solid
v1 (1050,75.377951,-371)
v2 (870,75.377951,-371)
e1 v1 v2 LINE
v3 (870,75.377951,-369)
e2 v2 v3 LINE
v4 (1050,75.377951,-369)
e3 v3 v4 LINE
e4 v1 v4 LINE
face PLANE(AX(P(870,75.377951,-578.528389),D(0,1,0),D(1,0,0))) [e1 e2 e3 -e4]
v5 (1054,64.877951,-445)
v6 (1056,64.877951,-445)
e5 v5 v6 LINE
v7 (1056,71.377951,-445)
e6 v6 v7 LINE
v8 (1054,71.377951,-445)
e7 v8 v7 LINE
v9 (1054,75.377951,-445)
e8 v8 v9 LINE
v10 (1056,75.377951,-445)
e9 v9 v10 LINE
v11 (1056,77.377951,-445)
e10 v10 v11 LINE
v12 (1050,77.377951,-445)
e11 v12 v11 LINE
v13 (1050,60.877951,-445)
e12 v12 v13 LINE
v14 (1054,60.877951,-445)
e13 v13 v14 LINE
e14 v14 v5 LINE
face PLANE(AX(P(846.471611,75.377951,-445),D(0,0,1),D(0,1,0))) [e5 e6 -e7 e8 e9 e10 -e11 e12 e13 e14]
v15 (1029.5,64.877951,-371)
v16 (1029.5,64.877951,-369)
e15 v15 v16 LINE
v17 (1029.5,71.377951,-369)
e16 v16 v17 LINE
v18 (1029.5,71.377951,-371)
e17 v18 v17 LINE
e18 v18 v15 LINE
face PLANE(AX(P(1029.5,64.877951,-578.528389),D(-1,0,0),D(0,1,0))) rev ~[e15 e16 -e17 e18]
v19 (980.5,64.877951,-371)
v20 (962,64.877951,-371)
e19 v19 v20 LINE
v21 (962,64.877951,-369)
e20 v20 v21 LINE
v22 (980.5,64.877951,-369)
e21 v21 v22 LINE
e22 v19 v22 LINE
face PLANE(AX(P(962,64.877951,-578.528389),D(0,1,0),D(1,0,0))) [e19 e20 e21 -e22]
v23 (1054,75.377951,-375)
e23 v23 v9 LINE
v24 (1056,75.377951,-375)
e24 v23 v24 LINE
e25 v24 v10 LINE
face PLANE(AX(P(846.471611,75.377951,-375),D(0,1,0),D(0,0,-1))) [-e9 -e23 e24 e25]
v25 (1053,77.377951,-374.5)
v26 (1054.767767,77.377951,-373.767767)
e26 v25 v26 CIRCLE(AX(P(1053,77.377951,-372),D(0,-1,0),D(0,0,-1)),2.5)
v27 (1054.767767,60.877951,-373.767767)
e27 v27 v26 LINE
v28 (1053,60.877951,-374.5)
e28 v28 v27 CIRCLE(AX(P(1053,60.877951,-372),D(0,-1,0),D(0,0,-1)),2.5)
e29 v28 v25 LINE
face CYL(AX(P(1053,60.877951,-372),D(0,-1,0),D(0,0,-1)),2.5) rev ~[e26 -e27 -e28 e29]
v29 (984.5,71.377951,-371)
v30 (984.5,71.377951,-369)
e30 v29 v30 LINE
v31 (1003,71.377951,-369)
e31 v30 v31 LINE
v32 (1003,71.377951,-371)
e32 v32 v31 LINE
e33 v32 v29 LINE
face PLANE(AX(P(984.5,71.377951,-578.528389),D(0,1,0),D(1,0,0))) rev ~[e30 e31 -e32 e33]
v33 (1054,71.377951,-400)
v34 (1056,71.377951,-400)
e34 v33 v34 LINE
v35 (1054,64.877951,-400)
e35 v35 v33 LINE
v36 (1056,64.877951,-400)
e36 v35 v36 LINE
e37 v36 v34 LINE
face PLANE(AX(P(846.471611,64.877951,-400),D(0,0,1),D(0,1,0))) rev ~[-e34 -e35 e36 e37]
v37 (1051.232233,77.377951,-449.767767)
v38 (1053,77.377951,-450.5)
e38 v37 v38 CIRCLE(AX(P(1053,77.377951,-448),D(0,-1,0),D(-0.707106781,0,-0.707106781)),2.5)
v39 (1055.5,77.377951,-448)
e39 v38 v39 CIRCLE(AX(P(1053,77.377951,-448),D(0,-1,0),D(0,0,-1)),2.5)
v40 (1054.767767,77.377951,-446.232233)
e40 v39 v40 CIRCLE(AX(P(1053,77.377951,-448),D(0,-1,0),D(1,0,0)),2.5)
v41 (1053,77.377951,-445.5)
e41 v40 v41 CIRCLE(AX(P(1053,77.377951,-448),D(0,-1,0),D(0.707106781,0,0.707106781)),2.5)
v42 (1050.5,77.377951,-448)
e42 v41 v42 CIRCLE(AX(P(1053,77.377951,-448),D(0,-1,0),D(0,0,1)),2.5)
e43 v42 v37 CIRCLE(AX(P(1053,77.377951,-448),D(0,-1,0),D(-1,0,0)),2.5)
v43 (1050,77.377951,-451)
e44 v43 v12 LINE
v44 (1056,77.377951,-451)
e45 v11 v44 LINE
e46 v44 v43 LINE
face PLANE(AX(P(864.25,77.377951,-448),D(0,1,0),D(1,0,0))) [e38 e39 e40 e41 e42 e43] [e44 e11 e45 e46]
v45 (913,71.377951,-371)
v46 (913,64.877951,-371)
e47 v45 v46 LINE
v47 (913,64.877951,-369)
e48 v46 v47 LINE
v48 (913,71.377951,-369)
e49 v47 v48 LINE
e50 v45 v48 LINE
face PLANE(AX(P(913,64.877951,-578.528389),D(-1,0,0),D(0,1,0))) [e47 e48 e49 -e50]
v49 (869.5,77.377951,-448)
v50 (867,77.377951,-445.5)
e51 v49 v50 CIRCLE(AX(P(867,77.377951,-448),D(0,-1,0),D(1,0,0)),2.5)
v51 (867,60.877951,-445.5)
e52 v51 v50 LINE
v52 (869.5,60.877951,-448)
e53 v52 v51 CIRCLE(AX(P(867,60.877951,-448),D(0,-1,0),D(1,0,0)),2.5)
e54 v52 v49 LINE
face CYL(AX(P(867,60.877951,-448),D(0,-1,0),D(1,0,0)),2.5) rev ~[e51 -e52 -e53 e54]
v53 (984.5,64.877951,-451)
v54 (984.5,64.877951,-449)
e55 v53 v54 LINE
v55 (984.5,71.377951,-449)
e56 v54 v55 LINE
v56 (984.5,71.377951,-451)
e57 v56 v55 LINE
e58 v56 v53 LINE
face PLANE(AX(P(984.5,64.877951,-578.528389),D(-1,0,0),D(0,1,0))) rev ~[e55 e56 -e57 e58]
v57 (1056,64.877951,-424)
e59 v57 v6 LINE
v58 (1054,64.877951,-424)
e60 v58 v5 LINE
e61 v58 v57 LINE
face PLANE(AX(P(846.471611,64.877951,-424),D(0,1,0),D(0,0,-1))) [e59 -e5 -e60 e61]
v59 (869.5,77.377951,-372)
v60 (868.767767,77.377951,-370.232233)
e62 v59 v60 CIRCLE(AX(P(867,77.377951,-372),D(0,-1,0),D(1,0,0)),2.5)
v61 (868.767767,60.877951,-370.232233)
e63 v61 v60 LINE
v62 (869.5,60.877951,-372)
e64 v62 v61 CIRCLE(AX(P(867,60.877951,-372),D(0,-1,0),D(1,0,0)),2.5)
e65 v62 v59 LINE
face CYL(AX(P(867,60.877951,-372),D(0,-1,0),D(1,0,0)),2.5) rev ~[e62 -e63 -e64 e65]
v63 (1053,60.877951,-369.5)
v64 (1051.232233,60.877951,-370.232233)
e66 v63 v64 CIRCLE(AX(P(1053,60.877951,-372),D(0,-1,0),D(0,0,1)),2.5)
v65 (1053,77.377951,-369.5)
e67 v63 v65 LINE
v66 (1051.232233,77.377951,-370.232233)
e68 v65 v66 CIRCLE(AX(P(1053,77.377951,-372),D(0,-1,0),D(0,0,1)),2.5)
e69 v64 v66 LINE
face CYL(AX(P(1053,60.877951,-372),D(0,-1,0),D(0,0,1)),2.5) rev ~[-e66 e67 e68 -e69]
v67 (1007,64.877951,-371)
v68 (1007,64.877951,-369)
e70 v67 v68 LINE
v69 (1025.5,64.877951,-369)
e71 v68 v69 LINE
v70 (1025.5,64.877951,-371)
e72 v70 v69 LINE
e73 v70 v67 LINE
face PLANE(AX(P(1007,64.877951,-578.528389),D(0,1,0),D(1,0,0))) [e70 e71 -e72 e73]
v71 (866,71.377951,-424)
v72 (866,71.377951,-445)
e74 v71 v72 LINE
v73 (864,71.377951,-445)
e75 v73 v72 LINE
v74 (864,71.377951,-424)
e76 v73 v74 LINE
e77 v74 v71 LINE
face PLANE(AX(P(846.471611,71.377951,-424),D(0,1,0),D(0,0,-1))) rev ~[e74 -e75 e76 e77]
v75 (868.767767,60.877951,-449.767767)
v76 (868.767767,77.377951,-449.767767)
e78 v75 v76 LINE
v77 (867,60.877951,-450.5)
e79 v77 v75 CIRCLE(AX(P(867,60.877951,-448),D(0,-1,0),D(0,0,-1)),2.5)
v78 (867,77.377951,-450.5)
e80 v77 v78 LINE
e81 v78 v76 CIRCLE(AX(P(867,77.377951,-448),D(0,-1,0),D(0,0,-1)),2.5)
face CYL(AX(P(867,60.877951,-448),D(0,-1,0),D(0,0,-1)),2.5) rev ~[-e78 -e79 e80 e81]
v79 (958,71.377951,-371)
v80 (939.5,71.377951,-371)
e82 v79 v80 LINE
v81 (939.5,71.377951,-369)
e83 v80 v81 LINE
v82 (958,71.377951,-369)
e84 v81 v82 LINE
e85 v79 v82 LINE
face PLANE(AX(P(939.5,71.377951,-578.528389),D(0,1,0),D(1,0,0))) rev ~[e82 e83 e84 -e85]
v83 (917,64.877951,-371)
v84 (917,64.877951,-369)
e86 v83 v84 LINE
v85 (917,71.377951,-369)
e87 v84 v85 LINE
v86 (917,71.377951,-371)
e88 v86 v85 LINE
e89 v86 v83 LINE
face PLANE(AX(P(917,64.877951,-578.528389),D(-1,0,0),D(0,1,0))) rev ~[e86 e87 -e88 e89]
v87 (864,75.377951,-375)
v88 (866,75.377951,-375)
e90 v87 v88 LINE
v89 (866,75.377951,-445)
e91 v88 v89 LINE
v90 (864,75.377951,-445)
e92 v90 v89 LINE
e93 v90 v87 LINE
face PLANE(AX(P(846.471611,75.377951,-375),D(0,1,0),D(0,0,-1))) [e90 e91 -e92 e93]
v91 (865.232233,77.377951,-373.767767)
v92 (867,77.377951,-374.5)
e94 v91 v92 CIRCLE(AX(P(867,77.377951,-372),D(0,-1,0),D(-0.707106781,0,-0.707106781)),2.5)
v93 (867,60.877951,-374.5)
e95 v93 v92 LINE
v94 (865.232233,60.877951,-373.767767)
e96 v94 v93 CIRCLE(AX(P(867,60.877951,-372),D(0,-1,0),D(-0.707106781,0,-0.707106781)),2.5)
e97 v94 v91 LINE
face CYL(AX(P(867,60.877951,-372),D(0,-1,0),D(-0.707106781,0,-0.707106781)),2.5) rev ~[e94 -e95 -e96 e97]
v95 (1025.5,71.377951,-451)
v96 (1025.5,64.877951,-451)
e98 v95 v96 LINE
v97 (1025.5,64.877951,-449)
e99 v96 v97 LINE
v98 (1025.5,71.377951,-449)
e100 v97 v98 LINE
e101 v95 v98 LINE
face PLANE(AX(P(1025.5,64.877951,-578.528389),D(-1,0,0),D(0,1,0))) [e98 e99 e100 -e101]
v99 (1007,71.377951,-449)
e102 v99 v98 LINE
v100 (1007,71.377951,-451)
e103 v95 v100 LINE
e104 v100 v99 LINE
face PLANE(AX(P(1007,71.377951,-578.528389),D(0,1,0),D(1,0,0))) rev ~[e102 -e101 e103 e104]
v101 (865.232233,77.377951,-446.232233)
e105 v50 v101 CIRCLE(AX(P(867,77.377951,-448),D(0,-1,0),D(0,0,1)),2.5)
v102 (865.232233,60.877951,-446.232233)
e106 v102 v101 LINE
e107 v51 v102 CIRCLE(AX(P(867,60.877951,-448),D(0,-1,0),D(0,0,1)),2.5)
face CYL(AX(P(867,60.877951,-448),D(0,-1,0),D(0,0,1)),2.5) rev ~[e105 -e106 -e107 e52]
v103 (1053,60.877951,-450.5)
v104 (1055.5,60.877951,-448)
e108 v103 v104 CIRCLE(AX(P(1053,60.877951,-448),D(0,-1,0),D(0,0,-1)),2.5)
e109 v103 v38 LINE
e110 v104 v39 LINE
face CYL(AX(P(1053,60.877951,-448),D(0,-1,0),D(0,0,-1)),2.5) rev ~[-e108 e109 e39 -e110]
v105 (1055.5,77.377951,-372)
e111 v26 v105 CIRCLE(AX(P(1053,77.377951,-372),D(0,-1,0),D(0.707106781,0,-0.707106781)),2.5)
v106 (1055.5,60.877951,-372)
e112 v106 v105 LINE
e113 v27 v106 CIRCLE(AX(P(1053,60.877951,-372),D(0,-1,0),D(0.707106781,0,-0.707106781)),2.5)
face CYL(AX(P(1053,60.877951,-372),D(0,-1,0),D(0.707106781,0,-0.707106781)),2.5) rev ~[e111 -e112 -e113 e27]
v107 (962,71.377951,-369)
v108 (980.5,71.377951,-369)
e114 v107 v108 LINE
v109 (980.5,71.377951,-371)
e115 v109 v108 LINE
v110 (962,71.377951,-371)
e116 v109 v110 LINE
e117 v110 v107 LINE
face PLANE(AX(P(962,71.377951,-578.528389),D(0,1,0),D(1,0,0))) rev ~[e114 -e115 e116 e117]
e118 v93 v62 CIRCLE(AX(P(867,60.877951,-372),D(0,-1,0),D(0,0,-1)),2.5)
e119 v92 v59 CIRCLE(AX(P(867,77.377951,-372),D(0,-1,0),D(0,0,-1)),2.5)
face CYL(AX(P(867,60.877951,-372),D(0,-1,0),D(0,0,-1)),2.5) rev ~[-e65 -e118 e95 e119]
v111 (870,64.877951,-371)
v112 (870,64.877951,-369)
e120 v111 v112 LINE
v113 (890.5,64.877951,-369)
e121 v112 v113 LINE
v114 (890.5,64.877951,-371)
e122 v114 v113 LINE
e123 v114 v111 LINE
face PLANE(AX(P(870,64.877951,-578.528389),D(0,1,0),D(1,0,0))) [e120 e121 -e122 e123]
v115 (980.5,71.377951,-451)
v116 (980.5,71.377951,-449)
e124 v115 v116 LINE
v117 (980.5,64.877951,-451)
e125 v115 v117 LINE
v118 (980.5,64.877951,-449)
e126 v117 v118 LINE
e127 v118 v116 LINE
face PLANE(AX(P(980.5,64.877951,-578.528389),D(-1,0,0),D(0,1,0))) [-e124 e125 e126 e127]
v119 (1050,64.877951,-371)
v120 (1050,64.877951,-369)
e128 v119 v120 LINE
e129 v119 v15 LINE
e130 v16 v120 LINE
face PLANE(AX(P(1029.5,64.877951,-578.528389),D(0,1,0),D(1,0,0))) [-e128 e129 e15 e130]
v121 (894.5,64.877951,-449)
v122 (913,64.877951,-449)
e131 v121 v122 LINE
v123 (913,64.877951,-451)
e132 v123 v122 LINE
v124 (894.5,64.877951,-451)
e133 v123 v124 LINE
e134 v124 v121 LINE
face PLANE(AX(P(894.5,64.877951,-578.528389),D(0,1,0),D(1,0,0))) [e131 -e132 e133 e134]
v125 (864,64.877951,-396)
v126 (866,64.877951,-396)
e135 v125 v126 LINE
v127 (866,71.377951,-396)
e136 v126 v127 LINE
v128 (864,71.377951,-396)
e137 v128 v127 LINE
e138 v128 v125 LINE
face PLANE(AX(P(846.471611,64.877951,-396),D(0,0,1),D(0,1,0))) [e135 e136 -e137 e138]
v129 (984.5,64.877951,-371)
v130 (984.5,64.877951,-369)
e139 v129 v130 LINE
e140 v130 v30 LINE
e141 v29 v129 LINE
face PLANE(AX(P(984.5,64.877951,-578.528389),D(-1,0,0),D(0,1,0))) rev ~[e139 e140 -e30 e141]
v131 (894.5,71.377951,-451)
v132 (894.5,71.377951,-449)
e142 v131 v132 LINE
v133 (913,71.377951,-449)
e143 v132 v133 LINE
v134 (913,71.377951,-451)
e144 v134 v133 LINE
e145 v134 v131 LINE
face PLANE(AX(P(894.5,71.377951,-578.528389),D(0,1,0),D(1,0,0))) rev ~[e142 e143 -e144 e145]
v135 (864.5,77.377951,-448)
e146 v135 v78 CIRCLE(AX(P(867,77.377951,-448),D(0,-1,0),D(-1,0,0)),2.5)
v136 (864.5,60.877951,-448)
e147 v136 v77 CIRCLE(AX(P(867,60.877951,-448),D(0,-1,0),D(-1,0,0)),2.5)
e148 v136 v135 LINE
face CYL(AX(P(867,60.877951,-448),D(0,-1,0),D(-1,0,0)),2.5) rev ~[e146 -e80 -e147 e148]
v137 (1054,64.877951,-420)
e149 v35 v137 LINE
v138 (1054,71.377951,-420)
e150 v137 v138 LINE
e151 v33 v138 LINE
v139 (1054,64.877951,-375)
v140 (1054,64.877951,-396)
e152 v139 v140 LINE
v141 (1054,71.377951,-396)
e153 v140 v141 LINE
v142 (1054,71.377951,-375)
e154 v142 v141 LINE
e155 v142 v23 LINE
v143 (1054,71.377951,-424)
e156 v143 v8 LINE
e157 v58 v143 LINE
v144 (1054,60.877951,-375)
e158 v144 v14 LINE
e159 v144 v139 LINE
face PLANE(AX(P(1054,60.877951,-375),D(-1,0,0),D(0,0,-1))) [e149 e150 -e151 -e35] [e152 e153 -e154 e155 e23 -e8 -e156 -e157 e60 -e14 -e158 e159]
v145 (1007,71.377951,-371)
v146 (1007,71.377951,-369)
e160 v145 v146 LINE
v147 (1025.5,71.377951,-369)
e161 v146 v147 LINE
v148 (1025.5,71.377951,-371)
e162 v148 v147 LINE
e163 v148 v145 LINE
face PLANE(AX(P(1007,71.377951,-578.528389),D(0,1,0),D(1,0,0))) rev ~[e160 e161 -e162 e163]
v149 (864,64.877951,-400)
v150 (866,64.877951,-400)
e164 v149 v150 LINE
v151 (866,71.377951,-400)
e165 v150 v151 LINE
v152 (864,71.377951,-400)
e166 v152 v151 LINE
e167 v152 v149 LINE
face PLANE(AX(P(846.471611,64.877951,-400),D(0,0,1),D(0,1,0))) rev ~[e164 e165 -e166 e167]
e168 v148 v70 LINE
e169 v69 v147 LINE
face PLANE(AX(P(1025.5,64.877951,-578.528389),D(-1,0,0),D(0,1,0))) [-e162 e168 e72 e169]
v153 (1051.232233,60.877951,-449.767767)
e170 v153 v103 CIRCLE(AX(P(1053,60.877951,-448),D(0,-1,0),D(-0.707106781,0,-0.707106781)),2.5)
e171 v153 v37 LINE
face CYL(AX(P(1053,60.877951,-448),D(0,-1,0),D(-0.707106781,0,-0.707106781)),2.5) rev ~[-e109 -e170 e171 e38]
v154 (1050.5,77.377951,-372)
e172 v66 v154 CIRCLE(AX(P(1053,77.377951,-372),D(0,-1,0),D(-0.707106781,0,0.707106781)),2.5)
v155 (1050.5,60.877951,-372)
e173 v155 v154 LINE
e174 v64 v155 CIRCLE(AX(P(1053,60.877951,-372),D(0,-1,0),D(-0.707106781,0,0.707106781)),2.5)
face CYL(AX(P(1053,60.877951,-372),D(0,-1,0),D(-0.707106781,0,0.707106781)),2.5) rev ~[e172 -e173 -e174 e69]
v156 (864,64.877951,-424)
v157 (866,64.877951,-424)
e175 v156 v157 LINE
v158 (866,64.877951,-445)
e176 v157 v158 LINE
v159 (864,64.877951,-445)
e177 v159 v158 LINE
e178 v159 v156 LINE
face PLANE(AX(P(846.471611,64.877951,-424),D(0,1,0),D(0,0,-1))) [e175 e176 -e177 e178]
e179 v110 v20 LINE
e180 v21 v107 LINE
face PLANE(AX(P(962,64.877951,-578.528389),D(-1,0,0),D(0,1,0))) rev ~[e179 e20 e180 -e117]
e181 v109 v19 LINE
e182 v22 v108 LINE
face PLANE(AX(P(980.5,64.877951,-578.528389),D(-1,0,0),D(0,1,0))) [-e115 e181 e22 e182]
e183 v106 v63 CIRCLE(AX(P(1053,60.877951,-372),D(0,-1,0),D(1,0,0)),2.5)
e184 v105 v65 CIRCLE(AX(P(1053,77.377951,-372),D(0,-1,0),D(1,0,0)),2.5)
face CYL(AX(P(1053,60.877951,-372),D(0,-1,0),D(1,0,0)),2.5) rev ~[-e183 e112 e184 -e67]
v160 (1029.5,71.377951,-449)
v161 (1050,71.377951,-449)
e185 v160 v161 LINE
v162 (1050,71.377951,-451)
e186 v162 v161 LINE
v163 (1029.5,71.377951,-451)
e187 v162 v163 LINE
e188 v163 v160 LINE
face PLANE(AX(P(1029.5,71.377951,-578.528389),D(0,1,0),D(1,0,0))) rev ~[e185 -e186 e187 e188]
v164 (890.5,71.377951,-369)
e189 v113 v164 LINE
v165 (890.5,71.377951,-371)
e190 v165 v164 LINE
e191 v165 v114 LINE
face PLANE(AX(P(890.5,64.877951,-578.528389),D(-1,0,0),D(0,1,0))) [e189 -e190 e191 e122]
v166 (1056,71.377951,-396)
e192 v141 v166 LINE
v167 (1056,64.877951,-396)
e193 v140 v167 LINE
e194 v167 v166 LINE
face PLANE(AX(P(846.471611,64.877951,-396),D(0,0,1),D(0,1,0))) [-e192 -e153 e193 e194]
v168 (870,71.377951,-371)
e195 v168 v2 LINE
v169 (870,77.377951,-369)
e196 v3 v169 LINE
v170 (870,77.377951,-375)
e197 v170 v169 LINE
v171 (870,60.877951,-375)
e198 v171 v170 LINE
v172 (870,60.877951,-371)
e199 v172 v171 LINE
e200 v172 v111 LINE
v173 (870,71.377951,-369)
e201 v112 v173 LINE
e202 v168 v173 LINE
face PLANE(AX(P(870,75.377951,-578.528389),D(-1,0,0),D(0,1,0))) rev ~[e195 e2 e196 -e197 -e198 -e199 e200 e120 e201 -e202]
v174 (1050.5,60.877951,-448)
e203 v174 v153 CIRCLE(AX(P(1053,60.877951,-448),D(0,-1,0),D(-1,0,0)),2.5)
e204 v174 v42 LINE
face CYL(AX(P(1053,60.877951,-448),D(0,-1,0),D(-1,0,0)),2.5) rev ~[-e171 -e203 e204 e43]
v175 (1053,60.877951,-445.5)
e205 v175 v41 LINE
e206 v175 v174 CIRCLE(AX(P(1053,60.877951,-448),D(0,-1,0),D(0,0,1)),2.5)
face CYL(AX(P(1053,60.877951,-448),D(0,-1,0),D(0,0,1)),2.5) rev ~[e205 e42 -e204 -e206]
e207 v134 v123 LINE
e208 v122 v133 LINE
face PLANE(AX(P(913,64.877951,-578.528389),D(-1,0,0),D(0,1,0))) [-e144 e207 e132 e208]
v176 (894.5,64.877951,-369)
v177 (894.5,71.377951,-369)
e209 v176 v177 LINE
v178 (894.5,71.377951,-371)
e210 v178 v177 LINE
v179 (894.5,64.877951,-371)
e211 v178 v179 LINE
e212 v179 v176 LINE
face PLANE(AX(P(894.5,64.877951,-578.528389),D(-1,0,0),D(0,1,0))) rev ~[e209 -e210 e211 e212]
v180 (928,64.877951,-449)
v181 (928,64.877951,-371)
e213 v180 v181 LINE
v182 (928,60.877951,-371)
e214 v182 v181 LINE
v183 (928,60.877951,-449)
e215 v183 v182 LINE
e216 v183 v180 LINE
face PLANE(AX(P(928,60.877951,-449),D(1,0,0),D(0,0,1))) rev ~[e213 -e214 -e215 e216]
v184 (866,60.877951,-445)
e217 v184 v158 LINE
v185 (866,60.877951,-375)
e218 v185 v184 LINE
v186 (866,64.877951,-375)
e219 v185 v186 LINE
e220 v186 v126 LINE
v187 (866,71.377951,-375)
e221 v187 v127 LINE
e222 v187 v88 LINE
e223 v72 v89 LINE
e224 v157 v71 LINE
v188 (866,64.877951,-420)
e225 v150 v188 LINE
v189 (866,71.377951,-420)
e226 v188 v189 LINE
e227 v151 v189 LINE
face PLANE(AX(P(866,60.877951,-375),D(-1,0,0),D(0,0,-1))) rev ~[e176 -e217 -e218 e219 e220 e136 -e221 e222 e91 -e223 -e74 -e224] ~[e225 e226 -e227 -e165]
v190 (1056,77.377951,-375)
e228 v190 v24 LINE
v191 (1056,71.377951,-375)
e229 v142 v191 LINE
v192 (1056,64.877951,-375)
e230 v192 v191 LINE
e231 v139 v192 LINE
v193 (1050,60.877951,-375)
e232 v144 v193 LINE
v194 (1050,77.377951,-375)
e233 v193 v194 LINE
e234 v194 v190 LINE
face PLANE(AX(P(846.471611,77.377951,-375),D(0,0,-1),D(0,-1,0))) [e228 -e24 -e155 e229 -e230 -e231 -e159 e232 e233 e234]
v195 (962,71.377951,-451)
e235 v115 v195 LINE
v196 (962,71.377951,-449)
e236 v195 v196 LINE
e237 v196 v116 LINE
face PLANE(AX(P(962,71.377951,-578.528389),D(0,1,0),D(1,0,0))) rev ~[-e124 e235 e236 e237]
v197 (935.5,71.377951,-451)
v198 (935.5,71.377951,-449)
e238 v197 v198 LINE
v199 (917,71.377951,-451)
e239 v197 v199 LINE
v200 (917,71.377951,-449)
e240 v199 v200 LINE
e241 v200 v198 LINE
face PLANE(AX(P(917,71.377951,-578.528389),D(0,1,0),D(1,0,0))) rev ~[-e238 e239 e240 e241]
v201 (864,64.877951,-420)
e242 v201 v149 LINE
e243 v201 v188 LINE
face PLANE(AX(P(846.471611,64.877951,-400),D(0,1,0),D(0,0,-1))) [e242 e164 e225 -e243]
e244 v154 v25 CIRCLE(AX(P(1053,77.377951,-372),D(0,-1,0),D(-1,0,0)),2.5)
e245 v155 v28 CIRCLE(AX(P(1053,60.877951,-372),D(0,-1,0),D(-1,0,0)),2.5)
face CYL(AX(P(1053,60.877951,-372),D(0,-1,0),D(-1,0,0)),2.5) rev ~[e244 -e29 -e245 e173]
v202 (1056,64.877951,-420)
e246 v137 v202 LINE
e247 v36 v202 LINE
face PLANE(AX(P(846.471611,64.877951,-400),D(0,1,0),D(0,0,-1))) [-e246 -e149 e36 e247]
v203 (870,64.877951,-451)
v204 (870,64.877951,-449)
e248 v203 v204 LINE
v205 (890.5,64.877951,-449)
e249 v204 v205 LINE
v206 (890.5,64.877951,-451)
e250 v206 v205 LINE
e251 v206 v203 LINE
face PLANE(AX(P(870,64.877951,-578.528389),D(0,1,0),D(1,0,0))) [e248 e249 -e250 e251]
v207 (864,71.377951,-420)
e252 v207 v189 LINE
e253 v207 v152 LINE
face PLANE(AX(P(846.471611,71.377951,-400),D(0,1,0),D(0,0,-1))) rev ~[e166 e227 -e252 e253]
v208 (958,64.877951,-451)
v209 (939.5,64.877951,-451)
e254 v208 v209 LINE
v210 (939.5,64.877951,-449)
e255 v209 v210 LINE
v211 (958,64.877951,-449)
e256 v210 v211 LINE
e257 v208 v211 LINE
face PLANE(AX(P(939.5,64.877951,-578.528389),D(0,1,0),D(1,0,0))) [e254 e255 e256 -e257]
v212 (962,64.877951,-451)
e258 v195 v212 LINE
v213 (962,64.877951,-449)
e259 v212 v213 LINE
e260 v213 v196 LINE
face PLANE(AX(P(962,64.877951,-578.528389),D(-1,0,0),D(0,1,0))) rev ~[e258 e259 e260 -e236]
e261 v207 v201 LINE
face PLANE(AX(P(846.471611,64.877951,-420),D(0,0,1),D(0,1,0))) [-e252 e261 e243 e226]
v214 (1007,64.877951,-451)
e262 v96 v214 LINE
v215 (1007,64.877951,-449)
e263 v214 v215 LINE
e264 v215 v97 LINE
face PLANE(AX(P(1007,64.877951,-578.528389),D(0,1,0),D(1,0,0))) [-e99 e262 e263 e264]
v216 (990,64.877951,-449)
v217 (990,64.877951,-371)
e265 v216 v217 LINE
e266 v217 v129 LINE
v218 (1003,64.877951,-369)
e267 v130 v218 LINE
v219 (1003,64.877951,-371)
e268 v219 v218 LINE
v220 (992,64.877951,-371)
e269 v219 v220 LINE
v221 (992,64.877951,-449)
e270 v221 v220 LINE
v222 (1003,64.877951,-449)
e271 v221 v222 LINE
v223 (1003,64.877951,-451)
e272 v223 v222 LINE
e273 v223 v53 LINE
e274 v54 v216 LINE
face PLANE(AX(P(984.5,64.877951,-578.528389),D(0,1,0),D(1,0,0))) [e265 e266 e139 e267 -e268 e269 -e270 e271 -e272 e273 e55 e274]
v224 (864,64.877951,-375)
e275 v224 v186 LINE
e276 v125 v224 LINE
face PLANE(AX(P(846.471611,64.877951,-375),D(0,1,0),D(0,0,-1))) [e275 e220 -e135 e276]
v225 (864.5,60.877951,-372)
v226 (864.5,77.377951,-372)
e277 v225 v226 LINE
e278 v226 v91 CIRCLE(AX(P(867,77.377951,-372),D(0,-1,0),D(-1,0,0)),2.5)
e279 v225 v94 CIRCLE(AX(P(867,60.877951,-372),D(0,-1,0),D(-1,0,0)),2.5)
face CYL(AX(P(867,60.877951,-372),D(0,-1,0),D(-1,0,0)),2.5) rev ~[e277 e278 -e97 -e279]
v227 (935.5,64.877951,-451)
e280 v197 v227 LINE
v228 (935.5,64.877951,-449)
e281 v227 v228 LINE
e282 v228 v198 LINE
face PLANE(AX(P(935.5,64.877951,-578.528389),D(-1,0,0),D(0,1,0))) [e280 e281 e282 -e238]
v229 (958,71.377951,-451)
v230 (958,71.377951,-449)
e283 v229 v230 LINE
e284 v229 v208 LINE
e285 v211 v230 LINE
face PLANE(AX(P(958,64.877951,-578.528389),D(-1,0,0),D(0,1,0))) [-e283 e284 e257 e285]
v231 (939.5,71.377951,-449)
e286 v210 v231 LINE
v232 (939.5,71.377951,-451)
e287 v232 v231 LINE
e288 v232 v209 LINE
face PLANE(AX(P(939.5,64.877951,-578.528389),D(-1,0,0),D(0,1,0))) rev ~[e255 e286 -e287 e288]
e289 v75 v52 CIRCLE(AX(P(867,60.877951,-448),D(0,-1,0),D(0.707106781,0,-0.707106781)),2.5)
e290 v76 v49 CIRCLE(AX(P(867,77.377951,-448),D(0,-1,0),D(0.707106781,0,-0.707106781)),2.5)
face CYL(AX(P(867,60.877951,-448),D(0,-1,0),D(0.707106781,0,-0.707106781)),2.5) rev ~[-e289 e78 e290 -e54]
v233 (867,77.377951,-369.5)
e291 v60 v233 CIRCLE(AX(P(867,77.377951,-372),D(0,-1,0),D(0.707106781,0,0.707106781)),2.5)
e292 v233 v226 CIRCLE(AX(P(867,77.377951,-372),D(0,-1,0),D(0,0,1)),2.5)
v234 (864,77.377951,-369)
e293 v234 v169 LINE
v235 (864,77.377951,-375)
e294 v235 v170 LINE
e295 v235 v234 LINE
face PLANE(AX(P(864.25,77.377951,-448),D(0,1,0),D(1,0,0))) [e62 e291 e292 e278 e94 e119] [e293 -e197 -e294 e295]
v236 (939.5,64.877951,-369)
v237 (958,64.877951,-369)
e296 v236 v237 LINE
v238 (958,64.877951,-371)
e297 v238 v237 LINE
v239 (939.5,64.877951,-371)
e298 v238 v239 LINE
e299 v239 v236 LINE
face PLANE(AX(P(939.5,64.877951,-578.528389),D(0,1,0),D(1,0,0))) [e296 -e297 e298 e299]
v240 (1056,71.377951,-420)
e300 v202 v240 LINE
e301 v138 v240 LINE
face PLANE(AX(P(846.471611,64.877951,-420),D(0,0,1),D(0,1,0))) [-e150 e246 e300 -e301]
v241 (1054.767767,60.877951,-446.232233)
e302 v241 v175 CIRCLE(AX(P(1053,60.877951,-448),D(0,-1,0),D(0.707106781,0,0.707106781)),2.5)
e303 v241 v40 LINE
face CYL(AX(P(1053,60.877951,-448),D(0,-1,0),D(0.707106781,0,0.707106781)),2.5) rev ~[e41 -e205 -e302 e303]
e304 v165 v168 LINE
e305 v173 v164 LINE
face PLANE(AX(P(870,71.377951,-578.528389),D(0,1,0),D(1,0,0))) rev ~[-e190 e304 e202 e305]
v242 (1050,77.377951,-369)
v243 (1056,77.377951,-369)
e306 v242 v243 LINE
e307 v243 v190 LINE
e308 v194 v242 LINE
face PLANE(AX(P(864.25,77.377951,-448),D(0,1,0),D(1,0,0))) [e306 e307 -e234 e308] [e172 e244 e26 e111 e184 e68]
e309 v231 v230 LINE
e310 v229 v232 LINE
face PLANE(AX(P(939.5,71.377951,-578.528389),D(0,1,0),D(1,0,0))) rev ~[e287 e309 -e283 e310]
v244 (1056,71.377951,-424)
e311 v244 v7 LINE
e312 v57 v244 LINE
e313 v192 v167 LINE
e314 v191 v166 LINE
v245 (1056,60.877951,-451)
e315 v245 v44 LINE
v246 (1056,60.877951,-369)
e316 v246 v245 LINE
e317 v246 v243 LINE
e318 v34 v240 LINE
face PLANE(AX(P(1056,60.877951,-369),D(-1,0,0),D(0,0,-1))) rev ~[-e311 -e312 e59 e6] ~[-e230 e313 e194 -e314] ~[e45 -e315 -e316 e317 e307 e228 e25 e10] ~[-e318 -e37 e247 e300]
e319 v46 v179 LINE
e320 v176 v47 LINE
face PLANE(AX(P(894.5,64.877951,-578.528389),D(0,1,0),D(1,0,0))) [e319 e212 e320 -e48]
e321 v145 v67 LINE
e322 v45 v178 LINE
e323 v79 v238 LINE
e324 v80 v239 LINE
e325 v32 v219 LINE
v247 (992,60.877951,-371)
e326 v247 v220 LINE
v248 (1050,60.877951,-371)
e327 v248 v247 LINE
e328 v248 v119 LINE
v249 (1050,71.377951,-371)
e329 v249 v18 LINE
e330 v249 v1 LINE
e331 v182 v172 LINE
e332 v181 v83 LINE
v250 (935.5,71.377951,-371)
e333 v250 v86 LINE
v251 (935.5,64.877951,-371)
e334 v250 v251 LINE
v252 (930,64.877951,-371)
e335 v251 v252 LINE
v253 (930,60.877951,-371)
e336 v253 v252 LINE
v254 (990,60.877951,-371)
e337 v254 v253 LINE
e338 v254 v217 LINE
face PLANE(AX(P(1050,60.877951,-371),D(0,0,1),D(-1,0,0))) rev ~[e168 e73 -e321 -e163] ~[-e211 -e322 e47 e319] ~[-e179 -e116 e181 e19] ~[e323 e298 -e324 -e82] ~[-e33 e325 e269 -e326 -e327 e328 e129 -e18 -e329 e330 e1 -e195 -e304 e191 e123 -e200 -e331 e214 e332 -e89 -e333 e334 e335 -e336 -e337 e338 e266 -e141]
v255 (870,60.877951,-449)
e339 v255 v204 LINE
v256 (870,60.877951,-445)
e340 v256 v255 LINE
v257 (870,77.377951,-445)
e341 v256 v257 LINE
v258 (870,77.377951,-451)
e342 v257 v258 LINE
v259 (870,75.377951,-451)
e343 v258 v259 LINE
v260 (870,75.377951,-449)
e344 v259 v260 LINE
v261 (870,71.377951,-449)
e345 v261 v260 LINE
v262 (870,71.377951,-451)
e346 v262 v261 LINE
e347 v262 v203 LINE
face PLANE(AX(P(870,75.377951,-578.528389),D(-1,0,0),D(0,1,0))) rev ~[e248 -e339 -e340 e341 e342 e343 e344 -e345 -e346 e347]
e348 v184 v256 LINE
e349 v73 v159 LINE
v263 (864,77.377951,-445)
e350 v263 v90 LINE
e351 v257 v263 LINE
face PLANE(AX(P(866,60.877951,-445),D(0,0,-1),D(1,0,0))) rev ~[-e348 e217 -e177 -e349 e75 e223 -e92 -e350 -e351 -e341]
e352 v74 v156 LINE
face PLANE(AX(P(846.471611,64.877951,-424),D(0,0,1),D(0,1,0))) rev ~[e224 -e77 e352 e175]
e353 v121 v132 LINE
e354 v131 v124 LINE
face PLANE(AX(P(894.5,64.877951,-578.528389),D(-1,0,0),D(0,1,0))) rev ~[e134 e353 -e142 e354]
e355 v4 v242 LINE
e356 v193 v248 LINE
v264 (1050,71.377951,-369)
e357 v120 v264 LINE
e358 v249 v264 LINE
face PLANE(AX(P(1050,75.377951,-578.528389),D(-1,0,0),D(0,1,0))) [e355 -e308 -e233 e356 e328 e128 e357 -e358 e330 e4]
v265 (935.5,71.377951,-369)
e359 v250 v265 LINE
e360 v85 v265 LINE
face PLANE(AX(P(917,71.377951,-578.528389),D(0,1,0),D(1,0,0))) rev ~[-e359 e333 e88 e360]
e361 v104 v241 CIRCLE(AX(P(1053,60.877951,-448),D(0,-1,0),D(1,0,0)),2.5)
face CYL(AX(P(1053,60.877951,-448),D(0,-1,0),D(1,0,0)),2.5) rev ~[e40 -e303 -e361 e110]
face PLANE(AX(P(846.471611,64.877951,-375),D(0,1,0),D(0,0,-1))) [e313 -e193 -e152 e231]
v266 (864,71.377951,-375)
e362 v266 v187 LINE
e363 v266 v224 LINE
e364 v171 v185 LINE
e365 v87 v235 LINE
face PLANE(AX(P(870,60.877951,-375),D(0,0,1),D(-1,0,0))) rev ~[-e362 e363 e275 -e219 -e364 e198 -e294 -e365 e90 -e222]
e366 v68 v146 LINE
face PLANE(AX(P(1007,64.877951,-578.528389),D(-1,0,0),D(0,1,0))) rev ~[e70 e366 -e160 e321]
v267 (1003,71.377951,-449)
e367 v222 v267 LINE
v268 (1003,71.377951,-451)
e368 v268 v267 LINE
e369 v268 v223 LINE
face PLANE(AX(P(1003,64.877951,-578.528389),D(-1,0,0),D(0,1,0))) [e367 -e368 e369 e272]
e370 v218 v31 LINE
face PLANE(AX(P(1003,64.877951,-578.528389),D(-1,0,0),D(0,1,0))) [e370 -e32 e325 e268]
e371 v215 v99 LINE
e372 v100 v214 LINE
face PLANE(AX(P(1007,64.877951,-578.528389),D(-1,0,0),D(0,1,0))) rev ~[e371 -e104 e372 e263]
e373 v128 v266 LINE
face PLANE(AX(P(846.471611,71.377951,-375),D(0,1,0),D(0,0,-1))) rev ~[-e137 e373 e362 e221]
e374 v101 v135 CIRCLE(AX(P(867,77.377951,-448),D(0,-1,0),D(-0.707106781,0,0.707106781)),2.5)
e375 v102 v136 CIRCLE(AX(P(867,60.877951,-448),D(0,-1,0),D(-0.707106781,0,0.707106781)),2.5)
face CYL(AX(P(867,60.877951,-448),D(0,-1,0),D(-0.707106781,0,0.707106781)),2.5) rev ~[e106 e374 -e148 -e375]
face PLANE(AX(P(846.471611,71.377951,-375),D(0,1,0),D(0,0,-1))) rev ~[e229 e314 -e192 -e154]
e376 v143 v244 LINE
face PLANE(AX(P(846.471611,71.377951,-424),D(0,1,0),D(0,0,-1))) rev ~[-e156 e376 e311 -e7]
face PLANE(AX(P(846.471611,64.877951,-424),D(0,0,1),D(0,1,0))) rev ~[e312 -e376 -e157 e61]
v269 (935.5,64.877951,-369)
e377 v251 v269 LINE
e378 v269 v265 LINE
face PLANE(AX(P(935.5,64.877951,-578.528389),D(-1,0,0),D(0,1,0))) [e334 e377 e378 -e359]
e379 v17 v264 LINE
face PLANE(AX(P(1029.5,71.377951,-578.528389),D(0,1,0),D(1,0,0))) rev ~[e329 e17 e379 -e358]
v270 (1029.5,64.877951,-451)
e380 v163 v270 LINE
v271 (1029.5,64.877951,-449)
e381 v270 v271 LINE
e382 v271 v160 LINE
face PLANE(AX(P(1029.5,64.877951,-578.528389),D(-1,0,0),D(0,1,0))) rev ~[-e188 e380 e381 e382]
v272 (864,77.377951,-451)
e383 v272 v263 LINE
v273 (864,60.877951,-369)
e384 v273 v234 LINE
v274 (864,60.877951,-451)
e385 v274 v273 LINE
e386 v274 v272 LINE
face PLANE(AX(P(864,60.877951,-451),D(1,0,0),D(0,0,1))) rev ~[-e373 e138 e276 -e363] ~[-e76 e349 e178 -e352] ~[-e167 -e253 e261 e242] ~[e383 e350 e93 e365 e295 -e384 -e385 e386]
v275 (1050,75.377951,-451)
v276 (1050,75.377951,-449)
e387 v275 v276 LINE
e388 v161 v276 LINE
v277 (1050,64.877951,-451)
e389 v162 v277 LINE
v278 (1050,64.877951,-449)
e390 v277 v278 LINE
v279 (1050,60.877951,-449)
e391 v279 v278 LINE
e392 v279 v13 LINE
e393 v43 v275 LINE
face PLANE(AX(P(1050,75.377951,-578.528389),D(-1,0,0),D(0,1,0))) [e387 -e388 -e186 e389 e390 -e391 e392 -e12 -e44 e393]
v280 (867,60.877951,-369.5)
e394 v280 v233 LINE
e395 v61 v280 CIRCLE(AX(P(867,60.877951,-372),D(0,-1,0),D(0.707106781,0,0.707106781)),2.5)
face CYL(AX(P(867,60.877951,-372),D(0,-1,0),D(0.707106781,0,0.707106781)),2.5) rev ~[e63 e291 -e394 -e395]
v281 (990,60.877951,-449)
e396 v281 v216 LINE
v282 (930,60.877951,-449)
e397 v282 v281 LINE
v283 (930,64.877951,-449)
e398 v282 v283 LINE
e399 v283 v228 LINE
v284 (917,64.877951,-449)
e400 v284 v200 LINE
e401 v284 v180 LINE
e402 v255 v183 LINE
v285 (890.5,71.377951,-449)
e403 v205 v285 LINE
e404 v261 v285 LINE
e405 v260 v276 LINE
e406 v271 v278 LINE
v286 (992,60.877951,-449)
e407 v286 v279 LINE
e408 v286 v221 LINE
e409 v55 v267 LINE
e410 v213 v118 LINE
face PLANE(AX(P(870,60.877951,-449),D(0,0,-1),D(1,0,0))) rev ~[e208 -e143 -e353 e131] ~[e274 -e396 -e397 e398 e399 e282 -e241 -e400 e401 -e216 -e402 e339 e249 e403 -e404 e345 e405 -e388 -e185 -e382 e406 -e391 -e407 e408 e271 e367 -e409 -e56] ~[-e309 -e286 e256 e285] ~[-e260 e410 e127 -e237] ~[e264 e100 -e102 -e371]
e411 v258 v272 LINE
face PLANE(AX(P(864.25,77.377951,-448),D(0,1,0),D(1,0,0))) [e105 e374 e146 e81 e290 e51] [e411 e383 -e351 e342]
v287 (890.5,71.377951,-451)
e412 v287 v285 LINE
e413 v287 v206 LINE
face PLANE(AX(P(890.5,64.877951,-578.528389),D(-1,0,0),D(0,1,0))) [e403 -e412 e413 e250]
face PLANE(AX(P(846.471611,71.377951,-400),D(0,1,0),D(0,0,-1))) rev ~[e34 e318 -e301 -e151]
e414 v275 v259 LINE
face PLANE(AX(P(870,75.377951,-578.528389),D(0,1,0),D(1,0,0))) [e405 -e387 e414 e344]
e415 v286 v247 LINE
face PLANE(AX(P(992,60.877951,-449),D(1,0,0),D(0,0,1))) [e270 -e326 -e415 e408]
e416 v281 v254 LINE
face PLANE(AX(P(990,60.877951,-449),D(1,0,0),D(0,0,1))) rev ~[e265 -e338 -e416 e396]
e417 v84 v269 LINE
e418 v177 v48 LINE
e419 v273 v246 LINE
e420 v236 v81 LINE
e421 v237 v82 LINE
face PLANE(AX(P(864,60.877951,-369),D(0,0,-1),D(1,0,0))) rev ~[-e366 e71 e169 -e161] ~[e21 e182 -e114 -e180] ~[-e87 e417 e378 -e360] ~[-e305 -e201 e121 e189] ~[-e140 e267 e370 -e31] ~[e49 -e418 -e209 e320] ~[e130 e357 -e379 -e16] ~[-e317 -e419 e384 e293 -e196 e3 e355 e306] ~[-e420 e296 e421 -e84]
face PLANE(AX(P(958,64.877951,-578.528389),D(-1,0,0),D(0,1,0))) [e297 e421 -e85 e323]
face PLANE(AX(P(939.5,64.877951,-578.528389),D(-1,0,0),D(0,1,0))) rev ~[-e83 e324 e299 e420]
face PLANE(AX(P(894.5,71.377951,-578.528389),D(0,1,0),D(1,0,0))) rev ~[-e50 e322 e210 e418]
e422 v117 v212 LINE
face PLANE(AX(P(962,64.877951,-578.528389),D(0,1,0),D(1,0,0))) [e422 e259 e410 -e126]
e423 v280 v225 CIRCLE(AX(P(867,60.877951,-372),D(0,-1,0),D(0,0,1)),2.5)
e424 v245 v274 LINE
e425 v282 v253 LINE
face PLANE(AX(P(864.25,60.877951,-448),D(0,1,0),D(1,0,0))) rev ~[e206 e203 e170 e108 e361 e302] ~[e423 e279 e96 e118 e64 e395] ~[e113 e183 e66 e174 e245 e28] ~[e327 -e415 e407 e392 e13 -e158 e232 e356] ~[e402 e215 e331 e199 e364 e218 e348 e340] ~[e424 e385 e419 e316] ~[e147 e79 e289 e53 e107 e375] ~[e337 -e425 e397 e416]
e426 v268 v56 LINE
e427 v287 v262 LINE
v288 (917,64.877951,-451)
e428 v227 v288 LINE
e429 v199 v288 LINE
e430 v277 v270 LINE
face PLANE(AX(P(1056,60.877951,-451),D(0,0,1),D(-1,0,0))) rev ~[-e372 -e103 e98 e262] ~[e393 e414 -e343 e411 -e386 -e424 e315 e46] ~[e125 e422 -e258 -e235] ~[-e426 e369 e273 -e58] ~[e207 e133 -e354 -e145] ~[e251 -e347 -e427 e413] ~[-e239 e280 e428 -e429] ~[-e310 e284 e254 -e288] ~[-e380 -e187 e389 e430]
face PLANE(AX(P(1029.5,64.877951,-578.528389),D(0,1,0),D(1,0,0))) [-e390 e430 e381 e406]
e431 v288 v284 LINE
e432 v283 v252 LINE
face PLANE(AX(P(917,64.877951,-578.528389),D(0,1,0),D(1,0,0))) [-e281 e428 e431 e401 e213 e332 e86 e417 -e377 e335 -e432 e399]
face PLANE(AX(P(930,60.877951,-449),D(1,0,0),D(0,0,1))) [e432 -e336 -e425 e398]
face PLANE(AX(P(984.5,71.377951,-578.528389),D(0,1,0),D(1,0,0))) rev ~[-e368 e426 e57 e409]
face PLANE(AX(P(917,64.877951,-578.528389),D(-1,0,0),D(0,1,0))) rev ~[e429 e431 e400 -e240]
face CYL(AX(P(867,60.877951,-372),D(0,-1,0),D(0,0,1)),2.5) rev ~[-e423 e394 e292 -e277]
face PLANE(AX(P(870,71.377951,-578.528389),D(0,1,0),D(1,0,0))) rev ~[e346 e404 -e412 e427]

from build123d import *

# Parameters (mm, degrees)
SKETCH1_W               = 900
SKETCH1_H               = 20
SKETCH1_W_2             = 20
SKETCH1_H_2             = 350
SKETCH1_H_3             = 700
BOSS_EXTRUDE1_DEPTH     = 165
CUT_EXTRUDE1_DEPTH      = 2095.283887156
CUT_EXTRUDE1_DEPTH_BACK = 2095.283887156
SKETCH2_W               = 205
SKETCH2_H               = 65
SKETCH2_W_2             = 185
SKETCH2_W_3             = 1800
SKETCH2_H_2             = 20
CUT_EXTRUDE2_DEPTH      = 2095.283887156
CUT_EXTRUDE2_DEPTH_BACK = 2095.283887156
SKETCH3_W               = 200
SKETCH3_H               = 65
SKETCH3_W_2             = 210
SKETCH5_W               = 20
SKETCH5_H               = 780
BOSS_EXTRUDE3_DEPTH     = 40
SCALE2_SCALE            = 0.1


with BuildPart() as part:
    # Sketch1 → Boss-Extrude1 (new body)
    with BuildSketch(Plane(origin=(0, 0, 0), x_dir=(1, 0, 0), z_dir=(0, 1, 0))):
        Polygon((5, 815), (0, 815), (0, 765), (5, 765), (5, 790), align=None)
        with BuildLine():
            Line((5, 790), (5, 765))
            Line((5, 765), (12.32233047, 772.32233047))
            ThreePointArc((12.32233047, 772.32233047), (6.903011687, 780.432914191), (5, 790))
        make_face()
        with BuildLine():
            Line((12.32233047, 772.32233047), (5, 765))
            Line((5, 765), (30, 765))
            ThreePointArc((30, 765), (20.432914191, 766.903011687), (12.32233047, 772.32233047))
        make_face()
        Polygon((5, 765), (0, 765), (0, 760), align=None)
        Polygon((5, 765), (0, 760), (20, 760), (60, 760), (60, 765), (55, 765), (30, 765), align=None)
        with BuildLine():
            Line((55, 765), (55, 790))
            ThreePointArc((55, 790), (47.67766953, 772.32233047), (30, 765))
            Line((30, 765), (55, 765))
        make_face()
        Polygon((60, 800), (60, 820), (55, 815), (55, 790), (55, 765), (60, 765), align=None)
        with BuildLine():
            Line((30, 815), (5, 815))
            Line((5, 815), (5, 790))
            ThreePointArc((5, 790), (12.32233047, 807.67766953), (30, 815))
        make_face()
        Polygon((55, 820), (0, 820), (0, 815), (5, 815), (30, 815), (55, 815), align=None)
        with BuildLine():
            Line((47.67766953, 807.67766953), (55, 815))
            Line((55, 815), (30, 815))
            ThreePointArc((30, 815), (39.567085809, 813.096988313), (47.67766953, 807.67766953))
        make_face()
        with BuildLine():
            Line((55, 790), (55, 815))
            Line((55, 815), (47.67766953, 807.67766953))
            ThreePointArc((47.67766953, 807.67766953), (53.096988313, 799.567085809), (55, 790))
        make_face()
        Polygon((60, 820), (55, 820), (55, 815), align=None)
        with Locations((510, 810)):
            Rectangle(SKETCH1_W, SKETCH1_H)
        with Locations((10, 585)):
            Rectangle(SKETCH1_W_2, SKETCH1_H_2)
        with Locations((10, 235)):
            Rectangle(SKETCH1_W_2, SKETCH1_H_2)
        Polygon((5, 55), (0, 60), (0, 55), align=None)
        Polygon((5, 55), (0, 55), (0, 5), (5, 5), (5, 30), align=None)
        Polygon((20, 60), (0, 60), (5, 55), (30, 55), (55, 55), (60, 55), (60, 60), align=None)
        with BuildLine():
            Line((30, 55), (5, 55))
            Line((5, 55), (12.32233047, 47.67766953))
            ThreePointArc((12.32233047, 47.67766953), (20.432914191, 53.096988313), (30, 55))
        make_face()
        with BuildLine():
            Line((12.32233047, 47.67766953), (5, 55))
            Line((5, 55), (5, 30))
            ThreePointArc((5, 30), (6.903011687, 39.567085809), (12.32233047, 47.67766953))
        make_face()
        with BuildLine():
            Line((55, 55), (30, 55))
            ThreePointArc((30, 55), (47.67766953, 47.67766953), (55, 30))
            Line((55, 30), (55, 55))
        make_face()
        Polygon((60, 0), (60, 20), (60, 55), (55, 55), (55, 30), (55, 5), align=None)
        with BuildLine():
            Line((55, 5), (47.67766953, 12.32233047))
            ThreePointArc((47.67766953, 12.32233047), (39.567085809, 6.903011687), (30, 5))
            Line((30, 5), (55, 5))
        make_face()
        with BuildLine():
            ThreePointArc((55, 30), (53.096988313, 20.432914191), (47.67766953, 12.32233047))
            Line((47.67766953, 12.32233047), (55, 5))
            Line((55, 5), (55, 30))
        make_face()
        Polygon((5, 5), (0, 5), (0, 0), (55, 0), (55, 5), (30, 5), align=None)
        Polygon((55, 0), (60, 0), (55, 5), align=None)
        with BuildLine():
            ThreePointArc((30, 5), (12.32233047, 12.32233047), (5, 30))
            Line((5, 30), (5, 5))
            Line((5, 5), (30, 5))
        make_face()
        with Locations((510, 10)):
            Rectangle(SKETCH1_W, SKETCH1_H)
        with Locations((1410, 10)):
            Rectangle(SKETCH1_W, SKETCH1_H)
        Polygon((1860, 55), (1860, 20), (1860, 0), (1865, 5), (1865, 30), (1865, 55), align=None)
        with BuildLine():
            Line((1865, 30), (1865, 5))
            Line((1865, 5), (1872.32233047, 12.32233047))
            ThreePointArc((1872.32233047, 12.32233047), (1866.903011687, 20.432914191), (1865, 30))
        make_face()
        with BuildLine():
            Line((1872.32233047, 12.32233047), (1865, 5))
            Line((1865, 5), (1890, 5))
            ThreePointArc((1890, 5), (1880.432914191, 6.903011687), (1872.32233047, 12.32233047))
        make_face()
        Polygon((1865, 5), (1860, 0), (1865, 0), align=None)
        Polygon((1865, 5), (1865, 0), (1920, 0), (1920, 5), (1915, 5), (1890, 5), align=None)
        with BuildLine():
            ThreePointArc((1915, 30), (1907.67766953, 12.32233047), (1890, 5))
            Line((1890, 5), (1915, 5))
            Line((1915, 5), (1915, 30))
        make_face()
        Polygon((1920, 5), (1920, 55), (1915, 55), (1915, 30), (1915, 5), align=None)
        Polygon((1860, 60), (1860, 55), (1865, 55), (1890, 55), (1915, 55), (1920, 60), (1900, 60), align=None)
        with BuildLine():
            Line((1890, 55), (1865, 55))
            Line((1865, 55), (1865, 30))
            ThreePointArc((1865, 30), (1872.32233047, 47.67766953), (1890, 55))
        make_face()
        with BuildLine():
            Line((1915, 55), (1890, 55))
            ThreePointArc((1890, 55), (1899.567085809, 53.096988313), (1907.67766953, 47.67766953))
            Line((1907.67766953, 47.67766953), (1915, 55))
        make_face()
        Polygon((1920, 55), (1920, 60), (1915, 55), align=None)
        with BuildLine():
            Line((1915, 30), (1915, 55))
            Line((1915, 55), (1907.67766953, 47.67766953))
            ThreePointArc((1907.67766953, 47.67766953), (1913.096988313, 39.567085809), (1915, 30))
        make_face()
        with Locations((1910, 410)):
            Rectangle(SKETCH1_W_2, SKETCH1_H_3)
        Polygon((1865, 765), (1860, 765), (1860, 760), (1900, 760), (1920, 760), (1915, 765), (1890, 765), align=None)
        Polygon((1920, 760), (1920, 765), (1915, 765), align=None)
        with BuildLine():
            ThreePointArc((1915, 790), (1913.096988313, 780.432914191), (1907.67766953, 772.32233047))
            Line((1907.67766953, 772.32233047), (1915, 765))
            Line((1915, 765), (1915, 790))
        make_face()
        with BuildLine():
            Line((1915, 765), (1907.67766953, 772.32233047))
            ThreePointArc((1907.67766953, 772.32233047), (1899.567085809, 766.903011687), (1890, 765))
            Line((1890, 765), (1915, 765))
        make_face()
        Polygon((1920, 765), (1920, 815), (1915, 815), (1915, 790), (1915, 765), align=None)
        Polygon((1920, 820), (1865, 820), (1865, 815), (1890, 815), (1915, 815), (1920, 815), align=None)
        with BuildLine():
            Line((1915, 815), (1890, 815))
            ThreePointArc((1890, 815), (1907.67766953, 807.67766953), (1915, 790))
            Line((1915, 790), (1915, 815))
        make_face()
        Polygon((1865, 820), (1860, 820), (1865, 815), align=None)
        Polygon((1865, 815), (1860, 820), (1860, 800), (1860, 765), (1865, 765), (1865, 790), align=None)
        with BuildLine():
            Line((1872.32233047, 807.67766953), (1865, 815))
            Line((1865, 815), (1865, 790))
            ThreePointArc((1865, 790), (1866.903011687, 799.567085809), (1872.32233047, 807.67766953))
        make_face()
        with BuildLine():
            Line((1890, 815), (1865, 815))
            Line((1865, 815), (1872.32233047, 807.67766953))
            ThreePointArc((1872.32233047, 807.67766953), (1880.432914191, 813.096988313), (1890, 815))
        make_face()
        with BuildLine():
            ThreePointArc((1890, 765), (1872.32233047, 772.32233047), (1865, 790))
            Line((1865, 790), (1865, 765))
            Line((1865, 765), (1890, 765))
        make_face()
        with Locations((1410, 810)):
            Rectangle(SKETCH1_W, SKETCH1_H)
    extrude(amount=BOSS_EXTRUDE1_DEPTH)

    # Sketch2 → Cut-Extrude1 (cut, two sides: drawn at the far end of the back side and taken through both)
    with BuildSketch(Plane.XY.offset(-CUT_EXTRUDE1_DEPTH_BACK)):
        with Locations((162.5, 72.5)):
            Rectangle(SKETCH2_W, SKETCH2_H)
        with Locations((397.5, 72.5)):
            Rectangle(SKETCH2_W_2, SKETCH2_H)
        with Locations((622.5, 72.5)):
            Rectangle(SKETCH2_W_2, SKETCH2_H)
        with Locations((847.5, 72.5)):
            Rectangle(SKETCH2_W_2, SKETCH2_H)
        with Locations((1072.5, 72.5)):
            Rectangle(SKETCH2_W_2, SKETCH2_H)
        with Locations((1297.5, 72.5)):
            Rectangle(SKETCH2_W_2, SKETCH2_H)
        with Locations((1522.5, 72.5)):
            Rectangle(SKETCH2_W_2, SKETCH2_H)
        with Locations((1757.5, 72.5)):
            Rectangle(SKETCH2_W, SKETCH2_H)
        with Locations((960, 155)):
            Rectangle(SKETCH2_W_3, SKETCH2_H_2)
    extrude(amount=CUT_EXTRUDE1_DEPTH + CUT_EXTRUDE1_DEPTH_BACK, mode=Mode.SUBTRACT)

    # Sketch3 → Cut-Extrude2 (cut, two sides: drawn at the far end of the back side and taken through both)
    with BuildSketch(Plane(origin=(1920, 0, 0), x_dir=(0, 0, -1), z_dir=(1, 0, 0)).offset(-CUT_EXTRUDE2_DEPTH_BACK)):
        Polygon((410, 145), (410, 165), (60, 165), (60, 145), (270, 145), (310, 145), align=None)
        Polygon((760, 145), (760, 165), (410, 165), (410, 145), (510, 145), (550, 145), align=None)
        with Locations((410, 72.5)):
            Rectangle(SKETCH3_W, SKETCH3_H)
        with Locations((655, 72.5)):
            Rectangle(SKETCH3_W_2, SKETCH3_H)
        with Locations((165, 72.5)):
            Rectangle(SKETCH3_W_2, SKETCH3_H)
    extrude(amount=CUT_EXTRUDE2_DEPTH + CUT_EXTRUDE2_DEPTH_BACK, mode=Mode.SUBTRACT)

    # Sketch5 → Boss-Extrude3 (add)
    with BuildSketch(Plane.XZ):
        with Locations((650, -410)):
            Rectangle(SKETCH5_W, SKETCH5_H)
        with Locations((1270, -410)):
            Rectangle(SKETCH5_W, SKETCH5_H)
    extrude(amount=-BOSS_EXTRUDE3_DEPTH)


with BuildPart() as part_1:
    # Scale2: scaled about (960, 67.642168167, -410)
    add(part.part.scale(SCALE2_SCALE).moved(Location((864, 60.87795135, -369))))


solid = part_1.part
